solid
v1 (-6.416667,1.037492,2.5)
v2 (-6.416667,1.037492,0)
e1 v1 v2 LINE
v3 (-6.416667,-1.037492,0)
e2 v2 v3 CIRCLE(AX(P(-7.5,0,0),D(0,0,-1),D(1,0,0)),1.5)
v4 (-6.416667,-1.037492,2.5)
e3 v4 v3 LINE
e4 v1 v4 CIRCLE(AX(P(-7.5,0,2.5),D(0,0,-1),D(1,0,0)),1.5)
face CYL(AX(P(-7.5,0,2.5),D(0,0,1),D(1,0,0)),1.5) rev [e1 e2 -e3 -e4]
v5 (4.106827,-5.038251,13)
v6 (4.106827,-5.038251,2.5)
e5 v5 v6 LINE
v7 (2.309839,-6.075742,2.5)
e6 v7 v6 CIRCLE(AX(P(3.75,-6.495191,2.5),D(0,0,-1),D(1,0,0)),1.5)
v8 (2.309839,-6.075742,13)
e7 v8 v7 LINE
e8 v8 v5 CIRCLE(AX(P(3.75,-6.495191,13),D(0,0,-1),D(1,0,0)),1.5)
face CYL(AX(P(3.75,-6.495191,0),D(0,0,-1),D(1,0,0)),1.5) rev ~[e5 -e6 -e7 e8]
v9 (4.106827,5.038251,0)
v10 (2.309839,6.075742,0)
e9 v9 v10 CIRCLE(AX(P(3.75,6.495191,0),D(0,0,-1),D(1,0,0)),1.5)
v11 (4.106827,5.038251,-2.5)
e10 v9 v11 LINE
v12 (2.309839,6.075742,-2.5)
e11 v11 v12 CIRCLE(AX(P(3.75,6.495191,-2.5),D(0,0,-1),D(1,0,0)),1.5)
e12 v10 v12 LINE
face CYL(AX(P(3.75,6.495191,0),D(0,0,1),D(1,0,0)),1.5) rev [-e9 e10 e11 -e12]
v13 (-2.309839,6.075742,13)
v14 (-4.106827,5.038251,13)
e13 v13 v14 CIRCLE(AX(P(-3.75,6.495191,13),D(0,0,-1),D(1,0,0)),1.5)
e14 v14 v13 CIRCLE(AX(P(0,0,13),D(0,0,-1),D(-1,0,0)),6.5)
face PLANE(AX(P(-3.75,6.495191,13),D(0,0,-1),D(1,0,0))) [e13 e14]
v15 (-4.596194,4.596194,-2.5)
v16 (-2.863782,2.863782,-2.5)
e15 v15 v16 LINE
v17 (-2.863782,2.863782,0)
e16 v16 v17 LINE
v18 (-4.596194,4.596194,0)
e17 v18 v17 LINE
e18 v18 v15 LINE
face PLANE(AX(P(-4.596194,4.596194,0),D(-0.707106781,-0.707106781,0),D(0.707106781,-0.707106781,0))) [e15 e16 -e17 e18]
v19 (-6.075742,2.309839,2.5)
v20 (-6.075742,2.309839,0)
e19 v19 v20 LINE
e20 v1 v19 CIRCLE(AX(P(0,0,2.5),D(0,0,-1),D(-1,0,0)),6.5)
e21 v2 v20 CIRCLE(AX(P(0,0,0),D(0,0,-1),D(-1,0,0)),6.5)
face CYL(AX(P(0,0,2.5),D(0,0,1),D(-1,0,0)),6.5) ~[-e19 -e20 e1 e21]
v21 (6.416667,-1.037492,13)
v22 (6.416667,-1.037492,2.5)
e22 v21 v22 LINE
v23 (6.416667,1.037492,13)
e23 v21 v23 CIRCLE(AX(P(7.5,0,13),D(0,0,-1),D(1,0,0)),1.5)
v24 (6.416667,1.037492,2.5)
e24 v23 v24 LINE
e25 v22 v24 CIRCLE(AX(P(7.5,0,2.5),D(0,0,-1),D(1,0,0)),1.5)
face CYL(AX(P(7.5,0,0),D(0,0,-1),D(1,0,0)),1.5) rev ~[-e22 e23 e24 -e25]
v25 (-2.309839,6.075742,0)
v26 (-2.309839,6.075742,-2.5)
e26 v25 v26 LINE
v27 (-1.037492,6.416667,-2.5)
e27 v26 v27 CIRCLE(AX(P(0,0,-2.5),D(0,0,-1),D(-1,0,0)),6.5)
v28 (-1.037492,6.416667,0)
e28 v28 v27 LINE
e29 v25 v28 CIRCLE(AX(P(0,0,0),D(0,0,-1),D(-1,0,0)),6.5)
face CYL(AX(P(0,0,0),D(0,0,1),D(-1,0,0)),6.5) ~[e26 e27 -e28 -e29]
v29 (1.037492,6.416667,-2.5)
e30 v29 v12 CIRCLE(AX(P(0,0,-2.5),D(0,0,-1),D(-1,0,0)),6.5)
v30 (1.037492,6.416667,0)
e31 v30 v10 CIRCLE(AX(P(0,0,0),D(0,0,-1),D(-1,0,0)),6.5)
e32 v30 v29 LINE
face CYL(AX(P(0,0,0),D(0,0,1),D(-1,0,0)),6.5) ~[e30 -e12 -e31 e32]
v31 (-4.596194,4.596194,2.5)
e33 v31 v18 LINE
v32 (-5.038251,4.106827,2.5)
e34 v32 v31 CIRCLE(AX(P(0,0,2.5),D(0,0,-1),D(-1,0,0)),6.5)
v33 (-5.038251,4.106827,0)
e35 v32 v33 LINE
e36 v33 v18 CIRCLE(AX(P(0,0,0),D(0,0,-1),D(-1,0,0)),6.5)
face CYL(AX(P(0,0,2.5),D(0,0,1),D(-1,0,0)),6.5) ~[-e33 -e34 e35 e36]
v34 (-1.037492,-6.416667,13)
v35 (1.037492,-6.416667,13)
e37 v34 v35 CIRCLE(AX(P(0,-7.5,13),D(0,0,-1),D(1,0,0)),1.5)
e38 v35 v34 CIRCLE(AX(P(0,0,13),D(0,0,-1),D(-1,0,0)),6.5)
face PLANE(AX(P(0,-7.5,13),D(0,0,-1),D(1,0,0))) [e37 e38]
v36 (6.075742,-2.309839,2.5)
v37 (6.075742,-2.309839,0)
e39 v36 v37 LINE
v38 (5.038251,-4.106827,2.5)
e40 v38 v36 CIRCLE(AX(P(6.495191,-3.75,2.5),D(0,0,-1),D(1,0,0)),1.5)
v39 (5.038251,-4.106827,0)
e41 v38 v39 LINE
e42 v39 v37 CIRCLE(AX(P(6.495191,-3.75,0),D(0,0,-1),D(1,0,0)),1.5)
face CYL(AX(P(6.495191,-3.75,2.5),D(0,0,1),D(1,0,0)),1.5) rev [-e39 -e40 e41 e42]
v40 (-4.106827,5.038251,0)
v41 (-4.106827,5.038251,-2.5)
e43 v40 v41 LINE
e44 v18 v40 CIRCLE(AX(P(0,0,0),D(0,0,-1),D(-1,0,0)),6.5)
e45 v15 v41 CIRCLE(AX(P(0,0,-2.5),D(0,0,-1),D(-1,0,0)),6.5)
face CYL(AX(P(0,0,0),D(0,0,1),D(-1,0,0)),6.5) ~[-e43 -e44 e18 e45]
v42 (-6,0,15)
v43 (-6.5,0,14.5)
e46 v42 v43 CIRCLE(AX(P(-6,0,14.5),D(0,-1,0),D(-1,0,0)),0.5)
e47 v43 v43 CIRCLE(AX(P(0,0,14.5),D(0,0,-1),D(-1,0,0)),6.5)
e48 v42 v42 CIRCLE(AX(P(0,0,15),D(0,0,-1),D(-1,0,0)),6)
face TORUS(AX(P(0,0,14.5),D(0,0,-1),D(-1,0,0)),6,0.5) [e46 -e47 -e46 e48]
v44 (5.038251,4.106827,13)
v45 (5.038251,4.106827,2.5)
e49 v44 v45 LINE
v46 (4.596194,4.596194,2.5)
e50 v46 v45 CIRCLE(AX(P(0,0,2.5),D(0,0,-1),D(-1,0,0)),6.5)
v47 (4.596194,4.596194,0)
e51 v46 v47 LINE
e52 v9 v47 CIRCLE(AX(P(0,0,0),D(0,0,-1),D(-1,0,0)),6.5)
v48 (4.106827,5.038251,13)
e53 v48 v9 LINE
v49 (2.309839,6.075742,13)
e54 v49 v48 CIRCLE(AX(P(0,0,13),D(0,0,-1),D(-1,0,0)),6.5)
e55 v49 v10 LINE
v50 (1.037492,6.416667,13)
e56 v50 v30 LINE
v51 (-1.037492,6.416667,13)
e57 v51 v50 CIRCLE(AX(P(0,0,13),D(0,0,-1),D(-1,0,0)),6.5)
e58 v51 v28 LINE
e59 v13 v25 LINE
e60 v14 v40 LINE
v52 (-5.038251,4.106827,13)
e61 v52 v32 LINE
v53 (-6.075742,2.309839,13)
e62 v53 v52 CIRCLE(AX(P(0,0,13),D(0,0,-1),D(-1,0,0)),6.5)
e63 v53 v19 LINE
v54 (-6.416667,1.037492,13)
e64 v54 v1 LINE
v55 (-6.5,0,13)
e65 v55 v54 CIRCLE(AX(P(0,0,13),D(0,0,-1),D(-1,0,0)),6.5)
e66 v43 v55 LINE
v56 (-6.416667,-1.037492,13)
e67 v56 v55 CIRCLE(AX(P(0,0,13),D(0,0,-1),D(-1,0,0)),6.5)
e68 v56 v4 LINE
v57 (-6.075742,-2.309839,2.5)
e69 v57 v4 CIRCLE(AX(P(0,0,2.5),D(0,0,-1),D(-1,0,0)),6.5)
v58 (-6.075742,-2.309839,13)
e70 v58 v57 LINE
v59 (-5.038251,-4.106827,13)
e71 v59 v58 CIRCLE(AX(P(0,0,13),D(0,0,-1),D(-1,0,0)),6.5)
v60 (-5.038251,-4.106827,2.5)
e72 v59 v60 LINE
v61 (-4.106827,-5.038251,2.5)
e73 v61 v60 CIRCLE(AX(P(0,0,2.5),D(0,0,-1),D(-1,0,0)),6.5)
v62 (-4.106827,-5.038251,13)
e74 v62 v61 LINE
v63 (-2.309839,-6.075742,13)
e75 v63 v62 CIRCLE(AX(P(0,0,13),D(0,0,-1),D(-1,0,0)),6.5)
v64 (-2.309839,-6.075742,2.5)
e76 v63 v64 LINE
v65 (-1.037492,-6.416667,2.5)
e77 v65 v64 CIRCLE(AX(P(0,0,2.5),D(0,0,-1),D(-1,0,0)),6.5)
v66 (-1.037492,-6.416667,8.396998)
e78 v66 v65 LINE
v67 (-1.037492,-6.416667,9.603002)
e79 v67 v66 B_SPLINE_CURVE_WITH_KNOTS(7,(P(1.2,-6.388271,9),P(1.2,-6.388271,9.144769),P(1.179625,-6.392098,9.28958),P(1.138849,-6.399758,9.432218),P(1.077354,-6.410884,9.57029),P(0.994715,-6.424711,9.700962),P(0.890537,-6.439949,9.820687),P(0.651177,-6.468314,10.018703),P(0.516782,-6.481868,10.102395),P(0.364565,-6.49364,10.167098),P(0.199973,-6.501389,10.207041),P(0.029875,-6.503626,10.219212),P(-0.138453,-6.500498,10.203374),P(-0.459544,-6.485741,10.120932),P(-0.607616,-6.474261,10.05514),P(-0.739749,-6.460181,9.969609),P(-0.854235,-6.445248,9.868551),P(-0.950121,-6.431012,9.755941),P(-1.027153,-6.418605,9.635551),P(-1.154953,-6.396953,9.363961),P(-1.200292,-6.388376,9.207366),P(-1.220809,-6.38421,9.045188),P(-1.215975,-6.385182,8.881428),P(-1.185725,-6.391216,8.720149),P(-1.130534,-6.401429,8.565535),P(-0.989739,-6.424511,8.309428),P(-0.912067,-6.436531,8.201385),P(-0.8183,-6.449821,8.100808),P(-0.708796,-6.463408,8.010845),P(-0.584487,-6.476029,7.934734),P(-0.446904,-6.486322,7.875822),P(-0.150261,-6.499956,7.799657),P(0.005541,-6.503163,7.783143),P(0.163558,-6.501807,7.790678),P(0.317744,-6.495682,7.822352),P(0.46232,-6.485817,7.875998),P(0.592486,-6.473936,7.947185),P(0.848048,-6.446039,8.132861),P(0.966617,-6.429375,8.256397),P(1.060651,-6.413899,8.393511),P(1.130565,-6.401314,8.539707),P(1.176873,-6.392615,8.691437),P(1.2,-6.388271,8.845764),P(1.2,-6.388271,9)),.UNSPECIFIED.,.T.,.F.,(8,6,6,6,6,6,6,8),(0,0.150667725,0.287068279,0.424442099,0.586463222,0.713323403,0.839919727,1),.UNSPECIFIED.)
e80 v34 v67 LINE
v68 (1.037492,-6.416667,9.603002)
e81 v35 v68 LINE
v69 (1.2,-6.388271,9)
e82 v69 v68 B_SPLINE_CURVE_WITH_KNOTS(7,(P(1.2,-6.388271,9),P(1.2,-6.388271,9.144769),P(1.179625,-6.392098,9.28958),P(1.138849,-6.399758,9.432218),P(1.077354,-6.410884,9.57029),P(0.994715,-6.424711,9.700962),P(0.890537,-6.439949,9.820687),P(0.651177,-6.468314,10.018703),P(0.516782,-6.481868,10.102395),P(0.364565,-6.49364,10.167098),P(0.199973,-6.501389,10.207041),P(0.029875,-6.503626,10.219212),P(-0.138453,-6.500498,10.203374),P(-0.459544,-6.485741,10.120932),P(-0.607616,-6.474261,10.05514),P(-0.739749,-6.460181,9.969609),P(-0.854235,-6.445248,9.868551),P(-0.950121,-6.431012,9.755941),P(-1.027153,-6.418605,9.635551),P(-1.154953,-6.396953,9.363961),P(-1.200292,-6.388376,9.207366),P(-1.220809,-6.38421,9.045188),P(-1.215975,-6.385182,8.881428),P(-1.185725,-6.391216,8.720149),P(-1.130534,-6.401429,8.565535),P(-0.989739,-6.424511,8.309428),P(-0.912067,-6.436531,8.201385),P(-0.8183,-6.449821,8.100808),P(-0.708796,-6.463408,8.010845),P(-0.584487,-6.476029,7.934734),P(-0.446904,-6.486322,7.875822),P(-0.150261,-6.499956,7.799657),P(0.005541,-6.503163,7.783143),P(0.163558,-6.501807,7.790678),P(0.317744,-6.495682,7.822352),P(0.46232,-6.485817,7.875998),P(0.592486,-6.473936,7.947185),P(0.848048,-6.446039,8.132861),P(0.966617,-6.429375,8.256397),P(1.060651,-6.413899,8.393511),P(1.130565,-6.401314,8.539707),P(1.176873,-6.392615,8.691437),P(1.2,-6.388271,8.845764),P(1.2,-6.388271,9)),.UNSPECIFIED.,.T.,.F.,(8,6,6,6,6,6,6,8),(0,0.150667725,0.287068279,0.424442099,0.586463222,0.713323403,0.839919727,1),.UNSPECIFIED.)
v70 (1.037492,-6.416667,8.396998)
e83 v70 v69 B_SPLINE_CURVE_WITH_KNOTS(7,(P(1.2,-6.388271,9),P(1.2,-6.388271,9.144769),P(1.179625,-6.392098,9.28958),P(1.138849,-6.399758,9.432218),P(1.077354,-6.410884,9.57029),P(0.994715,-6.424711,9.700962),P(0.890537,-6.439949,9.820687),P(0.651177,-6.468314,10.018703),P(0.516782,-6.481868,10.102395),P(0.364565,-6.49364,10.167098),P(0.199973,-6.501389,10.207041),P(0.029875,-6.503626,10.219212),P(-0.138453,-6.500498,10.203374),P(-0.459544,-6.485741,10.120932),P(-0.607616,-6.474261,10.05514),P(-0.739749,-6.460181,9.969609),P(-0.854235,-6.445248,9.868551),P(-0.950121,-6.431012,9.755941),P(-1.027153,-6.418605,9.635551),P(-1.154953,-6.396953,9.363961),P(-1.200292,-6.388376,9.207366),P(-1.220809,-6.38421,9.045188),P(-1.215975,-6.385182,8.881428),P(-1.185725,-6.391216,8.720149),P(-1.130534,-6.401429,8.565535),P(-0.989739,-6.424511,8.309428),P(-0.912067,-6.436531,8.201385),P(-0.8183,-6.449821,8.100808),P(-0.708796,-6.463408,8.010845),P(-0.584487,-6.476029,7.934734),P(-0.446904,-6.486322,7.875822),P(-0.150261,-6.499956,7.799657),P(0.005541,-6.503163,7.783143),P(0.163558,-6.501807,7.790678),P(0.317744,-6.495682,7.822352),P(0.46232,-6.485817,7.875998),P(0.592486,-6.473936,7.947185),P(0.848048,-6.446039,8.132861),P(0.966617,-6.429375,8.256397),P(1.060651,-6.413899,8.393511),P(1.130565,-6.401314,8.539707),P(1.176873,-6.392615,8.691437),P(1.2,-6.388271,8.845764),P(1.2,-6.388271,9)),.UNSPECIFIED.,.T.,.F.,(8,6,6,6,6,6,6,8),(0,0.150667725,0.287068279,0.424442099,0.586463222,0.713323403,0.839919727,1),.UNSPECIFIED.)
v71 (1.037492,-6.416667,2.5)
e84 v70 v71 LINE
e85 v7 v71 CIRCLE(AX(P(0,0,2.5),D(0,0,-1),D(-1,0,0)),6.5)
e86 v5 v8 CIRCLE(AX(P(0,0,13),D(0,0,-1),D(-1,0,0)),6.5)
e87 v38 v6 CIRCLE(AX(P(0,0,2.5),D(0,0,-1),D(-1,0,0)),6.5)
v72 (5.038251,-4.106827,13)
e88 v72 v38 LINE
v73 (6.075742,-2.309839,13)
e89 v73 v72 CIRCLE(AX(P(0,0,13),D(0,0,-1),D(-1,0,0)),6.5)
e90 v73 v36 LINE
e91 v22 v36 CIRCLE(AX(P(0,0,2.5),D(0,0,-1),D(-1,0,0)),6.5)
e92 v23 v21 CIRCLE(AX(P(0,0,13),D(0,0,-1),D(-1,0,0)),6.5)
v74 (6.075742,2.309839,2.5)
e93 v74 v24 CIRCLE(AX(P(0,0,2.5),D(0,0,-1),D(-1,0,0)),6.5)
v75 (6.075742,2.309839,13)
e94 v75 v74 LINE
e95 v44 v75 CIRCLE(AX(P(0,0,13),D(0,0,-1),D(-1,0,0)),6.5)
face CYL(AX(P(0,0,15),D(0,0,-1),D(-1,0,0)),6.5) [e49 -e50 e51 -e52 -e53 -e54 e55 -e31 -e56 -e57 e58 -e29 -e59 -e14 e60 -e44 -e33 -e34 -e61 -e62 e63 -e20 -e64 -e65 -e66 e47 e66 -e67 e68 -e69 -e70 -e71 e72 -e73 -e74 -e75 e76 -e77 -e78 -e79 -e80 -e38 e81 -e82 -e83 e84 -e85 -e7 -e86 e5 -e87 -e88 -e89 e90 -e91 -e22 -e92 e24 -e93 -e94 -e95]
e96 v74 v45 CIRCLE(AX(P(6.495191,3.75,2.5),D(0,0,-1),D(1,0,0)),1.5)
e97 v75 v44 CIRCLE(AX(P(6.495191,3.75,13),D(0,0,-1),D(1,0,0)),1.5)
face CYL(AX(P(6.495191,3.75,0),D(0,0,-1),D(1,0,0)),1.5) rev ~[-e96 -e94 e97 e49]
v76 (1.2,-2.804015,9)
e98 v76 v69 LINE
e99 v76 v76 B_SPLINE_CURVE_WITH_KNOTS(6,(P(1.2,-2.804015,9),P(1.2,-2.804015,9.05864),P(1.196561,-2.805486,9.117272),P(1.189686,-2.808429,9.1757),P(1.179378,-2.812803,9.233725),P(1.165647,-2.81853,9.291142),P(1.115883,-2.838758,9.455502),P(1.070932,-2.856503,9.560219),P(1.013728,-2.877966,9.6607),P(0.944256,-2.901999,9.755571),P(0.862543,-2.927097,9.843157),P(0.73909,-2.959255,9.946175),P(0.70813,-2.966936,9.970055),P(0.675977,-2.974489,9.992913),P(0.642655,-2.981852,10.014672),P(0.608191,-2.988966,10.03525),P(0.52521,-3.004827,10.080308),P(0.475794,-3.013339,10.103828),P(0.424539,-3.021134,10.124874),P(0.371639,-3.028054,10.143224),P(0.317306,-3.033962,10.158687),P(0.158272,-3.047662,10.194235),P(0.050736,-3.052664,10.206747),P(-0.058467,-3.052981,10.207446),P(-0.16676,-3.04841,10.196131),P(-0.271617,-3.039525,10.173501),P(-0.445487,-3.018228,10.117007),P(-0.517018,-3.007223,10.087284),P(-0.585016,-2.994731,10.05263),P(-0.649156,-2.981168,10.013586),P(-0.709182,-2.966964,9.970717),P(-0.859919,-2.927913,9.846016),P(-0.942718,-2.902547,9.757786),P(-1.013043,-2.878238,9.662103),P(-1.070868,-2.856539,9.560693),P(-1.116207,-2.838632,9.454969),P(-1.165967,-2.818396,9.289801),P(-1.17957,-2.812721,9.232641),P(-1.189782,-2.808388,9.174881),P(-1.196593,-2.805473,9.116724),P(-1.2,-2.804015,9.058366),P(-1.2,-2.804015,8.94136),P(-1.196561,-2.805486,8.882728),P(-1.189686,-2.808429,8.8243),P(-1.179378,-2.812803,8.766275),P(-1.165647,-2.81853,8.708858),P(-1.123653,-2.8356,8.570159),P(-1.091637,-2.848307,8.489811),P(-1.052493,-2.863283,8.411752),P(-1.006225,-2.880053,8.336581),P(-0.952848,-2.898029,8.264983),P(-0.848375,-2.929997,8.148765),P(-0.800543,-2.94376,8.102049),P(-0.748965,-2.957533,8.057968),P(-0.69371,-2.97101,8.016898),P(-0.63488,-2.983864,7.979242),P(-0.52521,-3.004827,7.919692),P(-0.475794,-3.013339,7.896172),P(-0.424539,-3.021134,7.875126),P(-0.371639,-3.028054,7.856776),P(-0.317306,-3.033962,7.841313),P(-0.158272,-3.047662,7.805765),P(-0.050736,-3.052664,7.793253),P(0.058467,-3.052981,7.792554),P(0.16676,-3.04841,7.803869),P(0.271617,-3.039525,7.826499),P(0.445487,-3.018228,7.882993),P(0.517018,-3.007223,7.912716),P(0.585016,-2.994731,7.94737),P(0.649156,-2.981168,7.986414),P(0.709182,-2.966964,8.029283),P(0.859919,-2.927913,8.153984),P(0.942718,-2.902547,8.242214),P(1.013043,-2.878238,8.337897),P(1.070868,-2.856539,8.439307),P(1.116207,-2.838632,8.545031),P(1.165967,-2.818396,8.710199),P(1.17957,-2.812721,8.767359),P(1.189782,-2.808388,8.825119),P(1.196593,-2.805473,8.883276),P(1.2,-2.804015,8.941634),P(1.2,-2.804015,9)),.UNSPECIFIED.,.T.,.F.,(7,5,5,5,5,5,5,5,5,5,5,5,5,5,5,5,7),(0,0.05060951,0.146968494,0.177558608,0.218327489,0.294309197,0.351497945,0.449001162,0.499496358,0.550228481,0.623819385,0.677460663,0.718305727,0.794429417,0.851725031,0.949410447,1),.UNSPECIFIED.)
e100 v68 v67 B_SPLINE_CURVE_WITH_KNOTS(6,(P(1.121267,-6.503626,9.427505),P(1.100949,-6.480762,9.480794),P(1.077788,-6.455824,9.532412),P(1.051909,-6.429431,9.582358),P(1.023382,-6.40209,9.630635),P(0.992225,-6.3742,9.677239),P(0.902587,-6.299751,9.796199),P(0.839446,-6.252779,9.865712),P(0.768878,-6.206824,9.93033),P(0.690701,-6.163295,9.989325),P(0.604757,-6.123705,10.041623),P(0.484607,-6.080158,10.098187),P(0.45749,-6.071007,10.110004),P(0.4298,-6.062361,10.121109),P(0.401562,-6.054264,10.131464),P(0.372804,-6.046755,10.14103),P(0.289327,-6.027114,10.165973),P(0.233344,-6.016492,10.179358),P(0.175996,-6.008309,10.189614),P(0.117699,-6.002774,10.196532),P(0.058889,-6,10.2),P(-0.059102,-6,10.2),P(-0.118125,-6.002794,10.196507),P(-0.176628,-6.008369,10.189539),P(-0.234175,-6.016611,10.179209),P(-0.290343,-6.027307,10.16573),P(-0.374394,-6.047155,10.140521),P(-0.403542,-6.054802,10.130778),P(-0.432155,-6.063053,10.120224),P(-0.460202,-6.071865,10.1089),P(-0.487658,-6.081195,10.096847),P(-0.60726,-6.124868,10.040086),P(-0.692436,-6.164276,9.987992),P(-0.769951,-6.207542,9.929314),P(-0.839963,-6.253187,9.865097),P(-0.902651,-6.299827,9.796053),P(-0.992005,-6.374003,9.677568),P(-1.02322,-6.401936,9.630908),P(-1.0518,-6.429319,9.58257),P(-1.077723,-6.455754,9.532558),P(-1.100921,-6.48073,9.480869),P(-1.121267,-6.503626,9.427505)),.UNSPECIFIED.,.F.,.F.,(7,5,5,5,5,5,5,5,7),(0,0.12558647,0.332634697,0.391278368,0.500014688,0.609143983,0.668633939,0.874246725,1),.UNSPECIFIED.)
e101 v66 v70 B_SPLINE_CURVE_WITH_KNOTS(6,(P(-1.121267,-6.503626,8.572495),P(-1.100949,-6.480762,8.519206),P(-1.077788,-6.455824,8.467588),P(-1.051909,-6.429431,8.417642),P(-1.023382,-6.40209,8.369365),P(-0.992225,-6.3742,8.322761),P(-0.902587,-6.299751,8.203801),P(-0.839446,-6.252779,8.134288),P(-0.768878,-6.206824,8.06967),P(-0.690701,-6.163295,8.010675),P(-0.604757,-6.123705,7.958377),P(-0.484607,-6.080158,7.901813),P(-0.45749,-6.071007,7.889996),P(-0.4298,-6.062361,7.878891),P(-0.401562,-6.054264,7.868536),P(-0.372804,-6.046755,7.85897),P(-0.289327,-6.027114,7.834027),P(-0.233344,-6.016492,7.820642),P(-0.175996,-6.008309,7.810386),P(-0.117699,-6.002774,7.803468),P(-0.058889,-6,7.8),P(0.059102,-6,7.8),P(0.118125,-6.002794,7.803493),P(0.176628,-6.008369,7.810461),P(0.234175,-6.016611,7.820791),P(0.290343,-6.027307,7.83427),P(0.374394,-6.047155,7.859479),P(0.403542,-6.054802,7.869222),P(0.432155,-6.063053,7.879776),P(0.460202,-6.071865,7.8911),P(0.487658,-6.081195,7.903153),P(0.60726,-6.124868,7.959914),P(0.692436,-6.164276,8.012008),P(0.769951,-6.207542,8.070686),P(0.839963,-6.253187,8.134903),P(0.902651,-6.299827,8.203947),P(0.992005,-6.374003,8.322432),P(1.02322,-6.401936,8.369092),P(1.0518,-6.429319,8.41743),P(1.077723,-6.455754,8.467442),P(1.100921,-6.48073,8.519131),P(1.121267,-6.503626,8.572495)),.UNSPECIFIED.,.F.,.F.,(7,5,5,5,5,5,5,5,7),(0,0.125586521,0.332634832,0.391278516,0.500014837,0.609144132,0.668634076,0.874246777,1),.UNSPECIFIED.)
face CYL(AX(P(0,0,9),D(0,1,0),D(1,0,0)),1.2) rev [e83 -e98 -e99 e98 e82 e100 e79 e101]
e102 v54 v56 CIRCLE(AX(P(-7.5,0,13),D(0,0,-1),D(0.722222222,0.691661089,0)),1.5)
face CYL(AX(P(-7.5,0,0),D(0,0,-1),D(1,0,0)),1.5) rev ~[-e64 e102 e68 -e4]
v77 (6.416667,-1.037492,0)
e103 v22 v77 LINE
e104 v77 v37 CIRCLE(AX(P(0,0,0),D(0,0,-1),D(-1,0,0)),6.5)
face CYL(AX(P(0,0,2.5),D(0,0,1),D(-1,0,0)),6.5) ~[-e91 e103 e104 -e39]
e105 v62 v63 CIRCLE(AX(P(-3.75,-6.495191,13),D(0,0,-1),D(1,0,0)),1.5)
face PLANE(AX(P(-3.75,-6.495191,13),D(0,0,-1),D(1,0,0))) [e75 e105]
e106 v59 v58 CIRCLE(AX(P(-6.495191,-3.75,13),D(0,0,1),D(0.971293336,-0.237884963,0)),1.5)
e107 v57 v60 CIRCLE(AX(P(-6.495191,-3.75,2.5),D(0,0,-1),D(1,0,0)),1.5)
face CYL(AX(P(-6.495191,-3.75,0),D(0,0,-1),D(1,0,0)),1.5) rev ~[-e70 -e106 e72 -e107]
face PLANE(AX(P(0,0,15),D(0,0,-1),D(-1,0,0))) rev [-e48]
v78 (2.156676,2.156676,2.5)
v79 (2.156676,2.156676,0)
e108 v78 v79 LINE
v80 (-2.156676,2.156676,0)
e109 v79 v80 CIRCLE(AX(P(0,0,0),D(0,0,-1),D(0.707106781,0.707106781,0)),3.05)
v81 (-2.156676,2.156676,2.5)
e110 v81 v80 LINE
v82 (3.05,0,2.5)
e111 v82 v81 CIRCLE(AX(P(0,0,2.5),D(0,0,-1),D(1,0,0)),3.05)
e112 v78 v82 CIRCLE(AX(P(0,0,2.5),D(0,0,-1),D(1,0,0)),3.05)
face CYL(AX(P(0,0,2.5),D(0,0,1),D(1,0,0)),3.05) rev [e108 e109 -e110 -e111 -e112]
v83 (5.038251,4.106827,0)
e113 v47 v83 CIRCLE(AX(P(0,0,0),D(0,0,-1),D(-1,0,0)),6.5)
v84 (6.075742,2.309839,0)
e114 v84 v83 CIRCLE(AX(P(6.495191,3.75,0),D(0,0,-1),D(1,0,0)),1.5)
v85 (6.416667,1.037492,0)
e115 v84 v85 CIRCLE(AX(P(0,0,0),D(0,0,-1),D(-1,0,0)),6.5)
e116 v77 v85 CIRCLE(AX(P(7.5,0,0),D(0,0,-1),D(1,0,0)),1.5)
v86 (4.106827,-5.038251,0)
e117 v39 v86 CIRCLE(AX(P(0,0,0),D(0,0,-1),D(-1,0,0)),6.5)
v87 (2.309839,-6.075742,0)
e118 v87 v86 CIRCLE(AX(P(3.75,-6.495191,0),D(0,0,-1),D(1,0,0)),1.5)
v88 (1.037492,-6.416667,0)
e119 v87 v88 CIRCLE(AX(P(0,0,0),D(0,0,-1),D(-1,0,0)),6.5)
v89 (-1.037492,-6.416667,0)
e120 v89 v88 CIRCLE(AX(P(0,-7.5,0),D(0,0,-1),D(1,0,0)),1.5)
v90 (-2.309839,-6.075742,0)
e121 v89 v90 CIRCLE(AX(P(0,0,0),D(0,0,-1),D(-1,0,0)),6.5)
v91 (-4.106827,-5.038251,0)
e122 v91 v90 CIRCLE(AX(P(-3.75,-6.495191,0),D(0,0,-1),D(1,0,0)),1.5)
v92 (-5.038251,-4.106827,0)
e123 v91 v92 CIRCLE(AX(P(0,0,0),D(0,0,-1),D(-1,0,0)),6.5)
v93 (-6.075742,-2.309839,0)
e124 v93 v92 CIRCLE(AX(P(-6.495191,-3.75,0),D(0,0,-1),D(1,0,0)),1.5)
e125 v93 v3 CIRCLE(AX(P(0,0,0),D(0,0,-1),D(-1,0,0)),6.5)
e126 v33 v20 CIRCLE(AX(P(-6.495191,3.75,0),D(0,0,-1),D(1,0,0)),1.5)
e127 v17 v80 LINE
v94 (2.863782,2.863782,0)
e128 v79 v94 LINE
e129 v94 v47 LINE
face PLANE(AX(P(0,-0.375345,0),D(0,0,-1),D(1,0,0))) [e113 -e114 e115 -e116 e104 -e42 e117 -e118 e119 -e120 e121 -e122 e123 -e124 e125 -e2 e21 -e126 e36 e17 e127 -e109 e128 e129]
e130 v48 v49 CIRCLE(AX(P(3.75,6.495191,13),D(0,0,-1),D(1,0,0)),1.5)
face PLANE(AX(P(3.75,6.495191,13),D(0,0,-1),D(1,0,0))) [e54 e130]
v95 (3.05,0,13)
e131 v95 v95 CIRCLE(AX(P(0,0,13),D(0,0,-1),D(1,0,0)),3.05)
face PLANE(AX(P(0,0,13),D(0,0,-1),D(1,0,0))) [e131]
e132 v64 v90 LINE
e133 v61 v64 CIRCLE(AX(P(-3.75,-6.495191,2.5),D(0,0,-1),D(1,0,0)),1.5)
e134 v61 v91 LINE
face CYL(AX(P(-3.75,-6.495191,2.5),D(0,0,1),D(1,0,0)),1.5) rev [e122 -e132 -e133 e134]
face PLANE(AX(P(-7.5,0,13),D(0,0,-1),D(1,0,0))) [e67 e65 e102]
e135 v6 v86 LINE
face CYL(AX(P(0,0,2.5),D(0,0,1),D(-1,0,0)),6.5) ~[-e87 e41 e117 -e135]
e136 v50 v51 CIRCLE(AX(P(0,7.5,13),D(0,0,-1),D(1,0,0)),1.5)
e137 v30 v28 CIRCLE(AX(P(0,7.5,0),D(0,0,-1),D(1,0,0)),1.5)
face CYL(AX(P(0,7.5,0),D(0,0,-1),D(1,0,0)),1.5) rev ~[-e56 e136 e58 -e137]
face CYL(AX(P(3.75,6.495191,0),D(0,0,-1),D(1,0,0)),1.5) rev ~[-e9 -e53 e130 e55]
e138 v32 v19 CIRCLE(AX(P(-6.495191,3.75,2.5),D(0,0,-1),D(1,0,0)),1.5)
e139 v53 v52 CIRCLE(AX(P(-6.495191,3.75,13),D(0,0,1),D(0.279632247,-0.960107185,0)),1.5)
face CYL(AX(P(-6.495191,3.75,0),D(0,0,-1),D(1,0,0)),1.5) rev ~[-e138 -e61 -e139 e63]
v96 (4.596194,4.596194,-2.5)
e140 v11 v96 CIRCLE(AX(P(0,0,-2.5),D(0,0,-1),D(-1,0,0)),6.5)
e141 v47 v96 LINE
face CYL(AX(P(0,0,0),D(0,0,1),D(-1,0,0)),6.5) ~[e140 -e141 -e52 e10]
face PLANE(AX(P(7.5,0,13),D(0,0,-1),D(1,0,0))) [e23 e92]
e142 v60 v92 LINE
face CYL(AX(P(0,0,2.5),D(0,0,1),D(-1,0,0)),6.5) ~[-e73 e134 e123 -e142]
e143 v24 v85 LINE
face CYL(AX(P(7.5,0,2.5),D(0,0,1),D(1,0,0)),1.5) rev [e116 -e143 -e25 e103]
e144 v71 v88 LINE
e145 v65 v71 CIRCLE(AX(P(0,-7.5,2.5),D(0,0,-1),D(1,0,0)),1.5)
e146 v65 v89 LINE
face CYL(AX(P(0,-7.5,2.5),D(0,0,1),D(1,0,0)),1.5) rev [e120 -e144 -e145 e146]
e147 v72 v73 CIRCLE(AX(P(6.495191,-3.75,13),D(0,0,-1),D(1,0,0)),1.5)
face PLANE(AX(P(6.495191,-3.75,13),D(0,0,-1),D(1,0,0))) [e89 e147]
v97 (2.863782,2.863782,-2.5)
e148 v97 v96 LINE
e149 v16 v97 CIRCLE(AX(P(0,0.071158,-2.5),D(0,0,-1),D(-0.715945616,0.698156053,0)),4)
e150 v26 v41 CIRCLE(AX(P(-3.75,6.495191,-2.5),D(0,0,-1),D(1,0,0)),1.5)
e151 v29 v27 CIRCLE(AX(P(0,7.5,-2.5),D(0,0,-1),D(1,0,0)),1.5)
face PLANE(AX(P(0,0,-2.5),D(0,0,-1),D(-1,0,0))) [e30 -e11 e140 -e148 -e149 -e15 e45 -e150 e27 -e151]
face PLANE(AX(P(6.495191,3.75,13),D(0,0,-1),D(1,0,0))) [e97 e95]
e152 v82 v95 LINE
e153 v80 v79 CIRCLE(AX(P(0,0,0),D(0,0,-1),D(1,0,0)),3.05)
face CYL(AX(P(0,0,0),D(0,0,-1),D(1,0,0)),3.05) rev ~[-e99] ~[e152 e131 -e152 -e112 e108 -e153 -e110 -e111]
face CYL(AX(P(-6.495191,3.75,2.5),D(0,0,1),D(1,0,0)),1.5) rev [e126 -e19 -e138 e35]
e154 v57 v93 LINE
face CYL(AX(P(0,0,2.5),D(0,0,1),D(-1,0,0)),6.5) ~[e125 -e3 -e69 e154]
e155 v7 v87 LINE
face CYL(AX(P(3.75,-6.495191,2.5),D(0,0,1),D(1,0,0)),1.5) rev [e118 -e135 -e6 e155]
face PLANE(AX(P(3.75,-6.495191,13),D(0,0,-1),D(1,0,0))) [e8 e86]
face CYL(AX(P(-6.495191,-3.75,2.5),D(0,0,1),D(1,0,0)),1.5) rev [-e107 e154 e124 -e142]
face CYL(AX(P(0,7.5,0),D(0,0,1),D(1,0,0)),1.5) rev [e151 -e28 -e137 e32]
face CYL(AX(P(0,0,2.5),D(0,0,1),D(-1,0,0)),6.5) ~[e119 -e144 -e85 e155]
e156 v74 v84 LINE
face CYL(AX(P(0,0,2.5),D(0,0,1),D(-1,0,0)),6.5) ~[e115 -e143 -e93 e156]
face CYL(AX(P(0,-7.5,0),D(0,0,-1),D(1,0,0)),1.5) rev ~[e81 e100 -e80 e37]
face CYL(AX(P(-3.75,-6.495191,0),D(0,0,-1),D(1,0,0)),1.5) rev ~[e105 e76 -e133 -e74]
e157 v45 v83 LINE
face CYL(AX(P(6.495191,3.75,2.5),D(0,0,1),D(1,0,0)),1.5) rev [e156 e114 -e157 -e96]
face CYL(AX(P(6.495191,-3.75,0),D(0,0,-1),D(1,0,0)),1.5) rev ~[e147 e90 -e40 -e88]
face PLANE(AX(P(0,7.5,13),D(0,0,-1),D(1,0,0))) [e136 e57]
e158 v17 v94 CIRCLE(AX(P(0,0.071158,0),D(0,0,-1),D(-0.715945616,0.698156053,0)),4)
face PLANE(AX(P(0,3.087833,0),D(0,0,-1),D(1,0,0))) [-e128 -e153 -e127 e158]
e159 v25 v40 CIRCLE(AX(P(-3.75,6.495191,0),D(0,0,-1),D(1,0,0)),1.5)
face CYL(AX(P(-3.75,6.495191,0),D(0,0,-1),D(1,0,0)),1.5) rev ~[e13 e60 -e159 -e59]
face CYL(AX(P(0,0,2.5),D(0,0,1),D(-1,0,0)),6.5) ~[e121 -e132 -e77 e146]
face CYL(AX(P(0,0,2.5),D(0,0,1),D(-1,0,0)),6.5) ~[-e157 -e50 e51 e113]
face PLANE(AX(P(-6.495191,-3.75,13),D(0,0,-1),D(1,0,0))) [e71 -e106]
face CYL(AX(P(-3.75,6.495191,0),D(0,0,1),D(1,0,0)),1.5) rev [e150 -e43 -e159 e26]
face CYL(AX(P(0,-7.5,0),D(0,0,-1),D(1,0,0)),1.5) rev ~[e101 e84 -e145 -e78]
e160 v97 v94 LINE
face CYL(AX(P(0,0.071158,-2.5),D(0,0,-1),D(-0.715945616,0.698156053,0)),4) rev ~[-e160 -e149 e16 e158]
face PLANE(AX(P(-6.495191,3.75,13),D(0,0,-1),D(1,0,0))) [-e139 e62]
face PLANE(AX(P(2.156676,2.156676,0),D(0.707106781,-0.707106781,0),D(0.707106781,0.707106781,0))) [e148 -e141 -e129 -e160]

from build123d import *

# Parameters (mm, degrees)
F2_R      = 3.05
F3_DEPTH  = 13
F4_R      = 0.5
F5_R      = 1.2
F6_DEPTH  = 7
F7_R      = 1.5
F8_DEPTH  = 13
F10_DEPTH = 2.5
F11_DEPTH = 2.5
F13_DEPTH = 2.5


with BuildPart() as f1:
    # F0 (on Front) → F1 (revolve)
    with BuildSketch(Plane.XZ):
        Polygon((-5, 0), (0, 0), (0, 15), (-6.5, 15), (-6.5, 0), align=None)
    revolve(axis=Axis((0, 0, -3.6677676575), (0, 0, -1)))

    # F2 (on face) → F3 (cut)
    with BuildSketch(Plane(origin=(0, 0, 0), x_dir=(1, 0, 0), z_dir=(0, 0, -1))):
        Circle(F2_R)
    extrude(amount=-F3_DEPTH, mode=Mode.SUBTRACT)

    # F4
    f4_edges = [f1.edges().sort_by_distance(p)[0] for p in [
        (6.5, 0, 15),
    ]]
    fillet(f4_edges, radius=F4_R)

    # F5 (on Front) → F6 (cut)
    with BuildSketch(Plane.XZ):
        with Locations((0, 9)):
            Circle(F5_R)
    extrude(amount=F6_DEPTH, mode=Mode.SUBTRACT)

    # F7 (on face) → F8 (cut)
    with BuildSketch(Plane(origin=(0, 0, 0), x_dir=(1, 0, 0), z_dir=(0, 0, -1))):
        with Locations((-7.5, 0)):
            Circle(F7_R)
        with Locations((-6.4951905284, -3.75)):
            Circle(F7_R)
        with Locations((-3.75, -6.4951905284)):
            Circle(F7_R)
        with Locations((0, -7.5)):
            Circle(F7_R)
        with Locations((3.75, -6.4951905284)):
            Circle(F7_R)
        with Locations((6.4951905284, -3.75)):
            Circle(F7_R)
        with Locations((7.5, 0)):
            Circle(F7_R)
        with Locations((6.4951905284, 3.75)):
            Circle(F7_R)
        with Locations((3.75, 6.4951905284)):
            Circle(F7_R)
        with Locations((0, 7.5)):
            Circle(F7_R)
        with Locations((-3.75, 6.4951905284)):
            Circle(F7_R)
        with Locations((-6.4951905284, 3.75)):
            Circle(F7_R)
    extrude(amount=-F8_DEPTH, mode=Mode.SUBTRACT)

    # F9 (on face) → F10 (cut)
    with BuildSketch(Plane(origin=(0, 0, 0), x_dir=(1, 0, 0), z_dir=(0, 0, -1))):
        with BuildLine():
            Line((-5.6568542495, -5.6568542495), (0, 0))
            Line((0, 0), (5.6568542495, -5.6568542495))
            ThreePointArc((5.6568542495, -5.6568542495), (0, 8), (-5.6568542495, -5.6568542495))
        make_face()
    extrude(amount=-F10_DEPTH, mode=Mode.SUBTRACT)

    # F11 (add): faces of the model
    f11_faces = [f1.faces().sort_by_distance(p)[0] for p in [
        (-4.6979425412, 4.2437625345, 2.5),
        (0, 4.3753680924, 0),
    ]]
    extrude(f11_faces, amount=F11_DEPTH)

    # F12 (on face) → F13 (cut)
    with BuildSketch(Plane(origin=(0, 0, -2.5), x_dir=(1, 0, 0), z_dir=(0, 0, -1))):
        with BuildLine():
            ThreePointArc((2.1566756826, -2.1566756826), (0, -3.05), (-2.1566756826, -2.1566756826))
            Line((-2.1566756826, -2.1566756826), (-2.8637824638, -2.8637824638))
            ThreePointArc((-2.8637824638, -2.8637824638), (0, -4.0711582499), (2.8637824638, -2.8637824638))
            Line((2.8637824638, -2.8637824638), (2.1566756826, -2.1566756826))
        make_face()
    extrude(amount=-F13_DEPTH, mode=Mode.SUBTRACT)


solid = f1.part
